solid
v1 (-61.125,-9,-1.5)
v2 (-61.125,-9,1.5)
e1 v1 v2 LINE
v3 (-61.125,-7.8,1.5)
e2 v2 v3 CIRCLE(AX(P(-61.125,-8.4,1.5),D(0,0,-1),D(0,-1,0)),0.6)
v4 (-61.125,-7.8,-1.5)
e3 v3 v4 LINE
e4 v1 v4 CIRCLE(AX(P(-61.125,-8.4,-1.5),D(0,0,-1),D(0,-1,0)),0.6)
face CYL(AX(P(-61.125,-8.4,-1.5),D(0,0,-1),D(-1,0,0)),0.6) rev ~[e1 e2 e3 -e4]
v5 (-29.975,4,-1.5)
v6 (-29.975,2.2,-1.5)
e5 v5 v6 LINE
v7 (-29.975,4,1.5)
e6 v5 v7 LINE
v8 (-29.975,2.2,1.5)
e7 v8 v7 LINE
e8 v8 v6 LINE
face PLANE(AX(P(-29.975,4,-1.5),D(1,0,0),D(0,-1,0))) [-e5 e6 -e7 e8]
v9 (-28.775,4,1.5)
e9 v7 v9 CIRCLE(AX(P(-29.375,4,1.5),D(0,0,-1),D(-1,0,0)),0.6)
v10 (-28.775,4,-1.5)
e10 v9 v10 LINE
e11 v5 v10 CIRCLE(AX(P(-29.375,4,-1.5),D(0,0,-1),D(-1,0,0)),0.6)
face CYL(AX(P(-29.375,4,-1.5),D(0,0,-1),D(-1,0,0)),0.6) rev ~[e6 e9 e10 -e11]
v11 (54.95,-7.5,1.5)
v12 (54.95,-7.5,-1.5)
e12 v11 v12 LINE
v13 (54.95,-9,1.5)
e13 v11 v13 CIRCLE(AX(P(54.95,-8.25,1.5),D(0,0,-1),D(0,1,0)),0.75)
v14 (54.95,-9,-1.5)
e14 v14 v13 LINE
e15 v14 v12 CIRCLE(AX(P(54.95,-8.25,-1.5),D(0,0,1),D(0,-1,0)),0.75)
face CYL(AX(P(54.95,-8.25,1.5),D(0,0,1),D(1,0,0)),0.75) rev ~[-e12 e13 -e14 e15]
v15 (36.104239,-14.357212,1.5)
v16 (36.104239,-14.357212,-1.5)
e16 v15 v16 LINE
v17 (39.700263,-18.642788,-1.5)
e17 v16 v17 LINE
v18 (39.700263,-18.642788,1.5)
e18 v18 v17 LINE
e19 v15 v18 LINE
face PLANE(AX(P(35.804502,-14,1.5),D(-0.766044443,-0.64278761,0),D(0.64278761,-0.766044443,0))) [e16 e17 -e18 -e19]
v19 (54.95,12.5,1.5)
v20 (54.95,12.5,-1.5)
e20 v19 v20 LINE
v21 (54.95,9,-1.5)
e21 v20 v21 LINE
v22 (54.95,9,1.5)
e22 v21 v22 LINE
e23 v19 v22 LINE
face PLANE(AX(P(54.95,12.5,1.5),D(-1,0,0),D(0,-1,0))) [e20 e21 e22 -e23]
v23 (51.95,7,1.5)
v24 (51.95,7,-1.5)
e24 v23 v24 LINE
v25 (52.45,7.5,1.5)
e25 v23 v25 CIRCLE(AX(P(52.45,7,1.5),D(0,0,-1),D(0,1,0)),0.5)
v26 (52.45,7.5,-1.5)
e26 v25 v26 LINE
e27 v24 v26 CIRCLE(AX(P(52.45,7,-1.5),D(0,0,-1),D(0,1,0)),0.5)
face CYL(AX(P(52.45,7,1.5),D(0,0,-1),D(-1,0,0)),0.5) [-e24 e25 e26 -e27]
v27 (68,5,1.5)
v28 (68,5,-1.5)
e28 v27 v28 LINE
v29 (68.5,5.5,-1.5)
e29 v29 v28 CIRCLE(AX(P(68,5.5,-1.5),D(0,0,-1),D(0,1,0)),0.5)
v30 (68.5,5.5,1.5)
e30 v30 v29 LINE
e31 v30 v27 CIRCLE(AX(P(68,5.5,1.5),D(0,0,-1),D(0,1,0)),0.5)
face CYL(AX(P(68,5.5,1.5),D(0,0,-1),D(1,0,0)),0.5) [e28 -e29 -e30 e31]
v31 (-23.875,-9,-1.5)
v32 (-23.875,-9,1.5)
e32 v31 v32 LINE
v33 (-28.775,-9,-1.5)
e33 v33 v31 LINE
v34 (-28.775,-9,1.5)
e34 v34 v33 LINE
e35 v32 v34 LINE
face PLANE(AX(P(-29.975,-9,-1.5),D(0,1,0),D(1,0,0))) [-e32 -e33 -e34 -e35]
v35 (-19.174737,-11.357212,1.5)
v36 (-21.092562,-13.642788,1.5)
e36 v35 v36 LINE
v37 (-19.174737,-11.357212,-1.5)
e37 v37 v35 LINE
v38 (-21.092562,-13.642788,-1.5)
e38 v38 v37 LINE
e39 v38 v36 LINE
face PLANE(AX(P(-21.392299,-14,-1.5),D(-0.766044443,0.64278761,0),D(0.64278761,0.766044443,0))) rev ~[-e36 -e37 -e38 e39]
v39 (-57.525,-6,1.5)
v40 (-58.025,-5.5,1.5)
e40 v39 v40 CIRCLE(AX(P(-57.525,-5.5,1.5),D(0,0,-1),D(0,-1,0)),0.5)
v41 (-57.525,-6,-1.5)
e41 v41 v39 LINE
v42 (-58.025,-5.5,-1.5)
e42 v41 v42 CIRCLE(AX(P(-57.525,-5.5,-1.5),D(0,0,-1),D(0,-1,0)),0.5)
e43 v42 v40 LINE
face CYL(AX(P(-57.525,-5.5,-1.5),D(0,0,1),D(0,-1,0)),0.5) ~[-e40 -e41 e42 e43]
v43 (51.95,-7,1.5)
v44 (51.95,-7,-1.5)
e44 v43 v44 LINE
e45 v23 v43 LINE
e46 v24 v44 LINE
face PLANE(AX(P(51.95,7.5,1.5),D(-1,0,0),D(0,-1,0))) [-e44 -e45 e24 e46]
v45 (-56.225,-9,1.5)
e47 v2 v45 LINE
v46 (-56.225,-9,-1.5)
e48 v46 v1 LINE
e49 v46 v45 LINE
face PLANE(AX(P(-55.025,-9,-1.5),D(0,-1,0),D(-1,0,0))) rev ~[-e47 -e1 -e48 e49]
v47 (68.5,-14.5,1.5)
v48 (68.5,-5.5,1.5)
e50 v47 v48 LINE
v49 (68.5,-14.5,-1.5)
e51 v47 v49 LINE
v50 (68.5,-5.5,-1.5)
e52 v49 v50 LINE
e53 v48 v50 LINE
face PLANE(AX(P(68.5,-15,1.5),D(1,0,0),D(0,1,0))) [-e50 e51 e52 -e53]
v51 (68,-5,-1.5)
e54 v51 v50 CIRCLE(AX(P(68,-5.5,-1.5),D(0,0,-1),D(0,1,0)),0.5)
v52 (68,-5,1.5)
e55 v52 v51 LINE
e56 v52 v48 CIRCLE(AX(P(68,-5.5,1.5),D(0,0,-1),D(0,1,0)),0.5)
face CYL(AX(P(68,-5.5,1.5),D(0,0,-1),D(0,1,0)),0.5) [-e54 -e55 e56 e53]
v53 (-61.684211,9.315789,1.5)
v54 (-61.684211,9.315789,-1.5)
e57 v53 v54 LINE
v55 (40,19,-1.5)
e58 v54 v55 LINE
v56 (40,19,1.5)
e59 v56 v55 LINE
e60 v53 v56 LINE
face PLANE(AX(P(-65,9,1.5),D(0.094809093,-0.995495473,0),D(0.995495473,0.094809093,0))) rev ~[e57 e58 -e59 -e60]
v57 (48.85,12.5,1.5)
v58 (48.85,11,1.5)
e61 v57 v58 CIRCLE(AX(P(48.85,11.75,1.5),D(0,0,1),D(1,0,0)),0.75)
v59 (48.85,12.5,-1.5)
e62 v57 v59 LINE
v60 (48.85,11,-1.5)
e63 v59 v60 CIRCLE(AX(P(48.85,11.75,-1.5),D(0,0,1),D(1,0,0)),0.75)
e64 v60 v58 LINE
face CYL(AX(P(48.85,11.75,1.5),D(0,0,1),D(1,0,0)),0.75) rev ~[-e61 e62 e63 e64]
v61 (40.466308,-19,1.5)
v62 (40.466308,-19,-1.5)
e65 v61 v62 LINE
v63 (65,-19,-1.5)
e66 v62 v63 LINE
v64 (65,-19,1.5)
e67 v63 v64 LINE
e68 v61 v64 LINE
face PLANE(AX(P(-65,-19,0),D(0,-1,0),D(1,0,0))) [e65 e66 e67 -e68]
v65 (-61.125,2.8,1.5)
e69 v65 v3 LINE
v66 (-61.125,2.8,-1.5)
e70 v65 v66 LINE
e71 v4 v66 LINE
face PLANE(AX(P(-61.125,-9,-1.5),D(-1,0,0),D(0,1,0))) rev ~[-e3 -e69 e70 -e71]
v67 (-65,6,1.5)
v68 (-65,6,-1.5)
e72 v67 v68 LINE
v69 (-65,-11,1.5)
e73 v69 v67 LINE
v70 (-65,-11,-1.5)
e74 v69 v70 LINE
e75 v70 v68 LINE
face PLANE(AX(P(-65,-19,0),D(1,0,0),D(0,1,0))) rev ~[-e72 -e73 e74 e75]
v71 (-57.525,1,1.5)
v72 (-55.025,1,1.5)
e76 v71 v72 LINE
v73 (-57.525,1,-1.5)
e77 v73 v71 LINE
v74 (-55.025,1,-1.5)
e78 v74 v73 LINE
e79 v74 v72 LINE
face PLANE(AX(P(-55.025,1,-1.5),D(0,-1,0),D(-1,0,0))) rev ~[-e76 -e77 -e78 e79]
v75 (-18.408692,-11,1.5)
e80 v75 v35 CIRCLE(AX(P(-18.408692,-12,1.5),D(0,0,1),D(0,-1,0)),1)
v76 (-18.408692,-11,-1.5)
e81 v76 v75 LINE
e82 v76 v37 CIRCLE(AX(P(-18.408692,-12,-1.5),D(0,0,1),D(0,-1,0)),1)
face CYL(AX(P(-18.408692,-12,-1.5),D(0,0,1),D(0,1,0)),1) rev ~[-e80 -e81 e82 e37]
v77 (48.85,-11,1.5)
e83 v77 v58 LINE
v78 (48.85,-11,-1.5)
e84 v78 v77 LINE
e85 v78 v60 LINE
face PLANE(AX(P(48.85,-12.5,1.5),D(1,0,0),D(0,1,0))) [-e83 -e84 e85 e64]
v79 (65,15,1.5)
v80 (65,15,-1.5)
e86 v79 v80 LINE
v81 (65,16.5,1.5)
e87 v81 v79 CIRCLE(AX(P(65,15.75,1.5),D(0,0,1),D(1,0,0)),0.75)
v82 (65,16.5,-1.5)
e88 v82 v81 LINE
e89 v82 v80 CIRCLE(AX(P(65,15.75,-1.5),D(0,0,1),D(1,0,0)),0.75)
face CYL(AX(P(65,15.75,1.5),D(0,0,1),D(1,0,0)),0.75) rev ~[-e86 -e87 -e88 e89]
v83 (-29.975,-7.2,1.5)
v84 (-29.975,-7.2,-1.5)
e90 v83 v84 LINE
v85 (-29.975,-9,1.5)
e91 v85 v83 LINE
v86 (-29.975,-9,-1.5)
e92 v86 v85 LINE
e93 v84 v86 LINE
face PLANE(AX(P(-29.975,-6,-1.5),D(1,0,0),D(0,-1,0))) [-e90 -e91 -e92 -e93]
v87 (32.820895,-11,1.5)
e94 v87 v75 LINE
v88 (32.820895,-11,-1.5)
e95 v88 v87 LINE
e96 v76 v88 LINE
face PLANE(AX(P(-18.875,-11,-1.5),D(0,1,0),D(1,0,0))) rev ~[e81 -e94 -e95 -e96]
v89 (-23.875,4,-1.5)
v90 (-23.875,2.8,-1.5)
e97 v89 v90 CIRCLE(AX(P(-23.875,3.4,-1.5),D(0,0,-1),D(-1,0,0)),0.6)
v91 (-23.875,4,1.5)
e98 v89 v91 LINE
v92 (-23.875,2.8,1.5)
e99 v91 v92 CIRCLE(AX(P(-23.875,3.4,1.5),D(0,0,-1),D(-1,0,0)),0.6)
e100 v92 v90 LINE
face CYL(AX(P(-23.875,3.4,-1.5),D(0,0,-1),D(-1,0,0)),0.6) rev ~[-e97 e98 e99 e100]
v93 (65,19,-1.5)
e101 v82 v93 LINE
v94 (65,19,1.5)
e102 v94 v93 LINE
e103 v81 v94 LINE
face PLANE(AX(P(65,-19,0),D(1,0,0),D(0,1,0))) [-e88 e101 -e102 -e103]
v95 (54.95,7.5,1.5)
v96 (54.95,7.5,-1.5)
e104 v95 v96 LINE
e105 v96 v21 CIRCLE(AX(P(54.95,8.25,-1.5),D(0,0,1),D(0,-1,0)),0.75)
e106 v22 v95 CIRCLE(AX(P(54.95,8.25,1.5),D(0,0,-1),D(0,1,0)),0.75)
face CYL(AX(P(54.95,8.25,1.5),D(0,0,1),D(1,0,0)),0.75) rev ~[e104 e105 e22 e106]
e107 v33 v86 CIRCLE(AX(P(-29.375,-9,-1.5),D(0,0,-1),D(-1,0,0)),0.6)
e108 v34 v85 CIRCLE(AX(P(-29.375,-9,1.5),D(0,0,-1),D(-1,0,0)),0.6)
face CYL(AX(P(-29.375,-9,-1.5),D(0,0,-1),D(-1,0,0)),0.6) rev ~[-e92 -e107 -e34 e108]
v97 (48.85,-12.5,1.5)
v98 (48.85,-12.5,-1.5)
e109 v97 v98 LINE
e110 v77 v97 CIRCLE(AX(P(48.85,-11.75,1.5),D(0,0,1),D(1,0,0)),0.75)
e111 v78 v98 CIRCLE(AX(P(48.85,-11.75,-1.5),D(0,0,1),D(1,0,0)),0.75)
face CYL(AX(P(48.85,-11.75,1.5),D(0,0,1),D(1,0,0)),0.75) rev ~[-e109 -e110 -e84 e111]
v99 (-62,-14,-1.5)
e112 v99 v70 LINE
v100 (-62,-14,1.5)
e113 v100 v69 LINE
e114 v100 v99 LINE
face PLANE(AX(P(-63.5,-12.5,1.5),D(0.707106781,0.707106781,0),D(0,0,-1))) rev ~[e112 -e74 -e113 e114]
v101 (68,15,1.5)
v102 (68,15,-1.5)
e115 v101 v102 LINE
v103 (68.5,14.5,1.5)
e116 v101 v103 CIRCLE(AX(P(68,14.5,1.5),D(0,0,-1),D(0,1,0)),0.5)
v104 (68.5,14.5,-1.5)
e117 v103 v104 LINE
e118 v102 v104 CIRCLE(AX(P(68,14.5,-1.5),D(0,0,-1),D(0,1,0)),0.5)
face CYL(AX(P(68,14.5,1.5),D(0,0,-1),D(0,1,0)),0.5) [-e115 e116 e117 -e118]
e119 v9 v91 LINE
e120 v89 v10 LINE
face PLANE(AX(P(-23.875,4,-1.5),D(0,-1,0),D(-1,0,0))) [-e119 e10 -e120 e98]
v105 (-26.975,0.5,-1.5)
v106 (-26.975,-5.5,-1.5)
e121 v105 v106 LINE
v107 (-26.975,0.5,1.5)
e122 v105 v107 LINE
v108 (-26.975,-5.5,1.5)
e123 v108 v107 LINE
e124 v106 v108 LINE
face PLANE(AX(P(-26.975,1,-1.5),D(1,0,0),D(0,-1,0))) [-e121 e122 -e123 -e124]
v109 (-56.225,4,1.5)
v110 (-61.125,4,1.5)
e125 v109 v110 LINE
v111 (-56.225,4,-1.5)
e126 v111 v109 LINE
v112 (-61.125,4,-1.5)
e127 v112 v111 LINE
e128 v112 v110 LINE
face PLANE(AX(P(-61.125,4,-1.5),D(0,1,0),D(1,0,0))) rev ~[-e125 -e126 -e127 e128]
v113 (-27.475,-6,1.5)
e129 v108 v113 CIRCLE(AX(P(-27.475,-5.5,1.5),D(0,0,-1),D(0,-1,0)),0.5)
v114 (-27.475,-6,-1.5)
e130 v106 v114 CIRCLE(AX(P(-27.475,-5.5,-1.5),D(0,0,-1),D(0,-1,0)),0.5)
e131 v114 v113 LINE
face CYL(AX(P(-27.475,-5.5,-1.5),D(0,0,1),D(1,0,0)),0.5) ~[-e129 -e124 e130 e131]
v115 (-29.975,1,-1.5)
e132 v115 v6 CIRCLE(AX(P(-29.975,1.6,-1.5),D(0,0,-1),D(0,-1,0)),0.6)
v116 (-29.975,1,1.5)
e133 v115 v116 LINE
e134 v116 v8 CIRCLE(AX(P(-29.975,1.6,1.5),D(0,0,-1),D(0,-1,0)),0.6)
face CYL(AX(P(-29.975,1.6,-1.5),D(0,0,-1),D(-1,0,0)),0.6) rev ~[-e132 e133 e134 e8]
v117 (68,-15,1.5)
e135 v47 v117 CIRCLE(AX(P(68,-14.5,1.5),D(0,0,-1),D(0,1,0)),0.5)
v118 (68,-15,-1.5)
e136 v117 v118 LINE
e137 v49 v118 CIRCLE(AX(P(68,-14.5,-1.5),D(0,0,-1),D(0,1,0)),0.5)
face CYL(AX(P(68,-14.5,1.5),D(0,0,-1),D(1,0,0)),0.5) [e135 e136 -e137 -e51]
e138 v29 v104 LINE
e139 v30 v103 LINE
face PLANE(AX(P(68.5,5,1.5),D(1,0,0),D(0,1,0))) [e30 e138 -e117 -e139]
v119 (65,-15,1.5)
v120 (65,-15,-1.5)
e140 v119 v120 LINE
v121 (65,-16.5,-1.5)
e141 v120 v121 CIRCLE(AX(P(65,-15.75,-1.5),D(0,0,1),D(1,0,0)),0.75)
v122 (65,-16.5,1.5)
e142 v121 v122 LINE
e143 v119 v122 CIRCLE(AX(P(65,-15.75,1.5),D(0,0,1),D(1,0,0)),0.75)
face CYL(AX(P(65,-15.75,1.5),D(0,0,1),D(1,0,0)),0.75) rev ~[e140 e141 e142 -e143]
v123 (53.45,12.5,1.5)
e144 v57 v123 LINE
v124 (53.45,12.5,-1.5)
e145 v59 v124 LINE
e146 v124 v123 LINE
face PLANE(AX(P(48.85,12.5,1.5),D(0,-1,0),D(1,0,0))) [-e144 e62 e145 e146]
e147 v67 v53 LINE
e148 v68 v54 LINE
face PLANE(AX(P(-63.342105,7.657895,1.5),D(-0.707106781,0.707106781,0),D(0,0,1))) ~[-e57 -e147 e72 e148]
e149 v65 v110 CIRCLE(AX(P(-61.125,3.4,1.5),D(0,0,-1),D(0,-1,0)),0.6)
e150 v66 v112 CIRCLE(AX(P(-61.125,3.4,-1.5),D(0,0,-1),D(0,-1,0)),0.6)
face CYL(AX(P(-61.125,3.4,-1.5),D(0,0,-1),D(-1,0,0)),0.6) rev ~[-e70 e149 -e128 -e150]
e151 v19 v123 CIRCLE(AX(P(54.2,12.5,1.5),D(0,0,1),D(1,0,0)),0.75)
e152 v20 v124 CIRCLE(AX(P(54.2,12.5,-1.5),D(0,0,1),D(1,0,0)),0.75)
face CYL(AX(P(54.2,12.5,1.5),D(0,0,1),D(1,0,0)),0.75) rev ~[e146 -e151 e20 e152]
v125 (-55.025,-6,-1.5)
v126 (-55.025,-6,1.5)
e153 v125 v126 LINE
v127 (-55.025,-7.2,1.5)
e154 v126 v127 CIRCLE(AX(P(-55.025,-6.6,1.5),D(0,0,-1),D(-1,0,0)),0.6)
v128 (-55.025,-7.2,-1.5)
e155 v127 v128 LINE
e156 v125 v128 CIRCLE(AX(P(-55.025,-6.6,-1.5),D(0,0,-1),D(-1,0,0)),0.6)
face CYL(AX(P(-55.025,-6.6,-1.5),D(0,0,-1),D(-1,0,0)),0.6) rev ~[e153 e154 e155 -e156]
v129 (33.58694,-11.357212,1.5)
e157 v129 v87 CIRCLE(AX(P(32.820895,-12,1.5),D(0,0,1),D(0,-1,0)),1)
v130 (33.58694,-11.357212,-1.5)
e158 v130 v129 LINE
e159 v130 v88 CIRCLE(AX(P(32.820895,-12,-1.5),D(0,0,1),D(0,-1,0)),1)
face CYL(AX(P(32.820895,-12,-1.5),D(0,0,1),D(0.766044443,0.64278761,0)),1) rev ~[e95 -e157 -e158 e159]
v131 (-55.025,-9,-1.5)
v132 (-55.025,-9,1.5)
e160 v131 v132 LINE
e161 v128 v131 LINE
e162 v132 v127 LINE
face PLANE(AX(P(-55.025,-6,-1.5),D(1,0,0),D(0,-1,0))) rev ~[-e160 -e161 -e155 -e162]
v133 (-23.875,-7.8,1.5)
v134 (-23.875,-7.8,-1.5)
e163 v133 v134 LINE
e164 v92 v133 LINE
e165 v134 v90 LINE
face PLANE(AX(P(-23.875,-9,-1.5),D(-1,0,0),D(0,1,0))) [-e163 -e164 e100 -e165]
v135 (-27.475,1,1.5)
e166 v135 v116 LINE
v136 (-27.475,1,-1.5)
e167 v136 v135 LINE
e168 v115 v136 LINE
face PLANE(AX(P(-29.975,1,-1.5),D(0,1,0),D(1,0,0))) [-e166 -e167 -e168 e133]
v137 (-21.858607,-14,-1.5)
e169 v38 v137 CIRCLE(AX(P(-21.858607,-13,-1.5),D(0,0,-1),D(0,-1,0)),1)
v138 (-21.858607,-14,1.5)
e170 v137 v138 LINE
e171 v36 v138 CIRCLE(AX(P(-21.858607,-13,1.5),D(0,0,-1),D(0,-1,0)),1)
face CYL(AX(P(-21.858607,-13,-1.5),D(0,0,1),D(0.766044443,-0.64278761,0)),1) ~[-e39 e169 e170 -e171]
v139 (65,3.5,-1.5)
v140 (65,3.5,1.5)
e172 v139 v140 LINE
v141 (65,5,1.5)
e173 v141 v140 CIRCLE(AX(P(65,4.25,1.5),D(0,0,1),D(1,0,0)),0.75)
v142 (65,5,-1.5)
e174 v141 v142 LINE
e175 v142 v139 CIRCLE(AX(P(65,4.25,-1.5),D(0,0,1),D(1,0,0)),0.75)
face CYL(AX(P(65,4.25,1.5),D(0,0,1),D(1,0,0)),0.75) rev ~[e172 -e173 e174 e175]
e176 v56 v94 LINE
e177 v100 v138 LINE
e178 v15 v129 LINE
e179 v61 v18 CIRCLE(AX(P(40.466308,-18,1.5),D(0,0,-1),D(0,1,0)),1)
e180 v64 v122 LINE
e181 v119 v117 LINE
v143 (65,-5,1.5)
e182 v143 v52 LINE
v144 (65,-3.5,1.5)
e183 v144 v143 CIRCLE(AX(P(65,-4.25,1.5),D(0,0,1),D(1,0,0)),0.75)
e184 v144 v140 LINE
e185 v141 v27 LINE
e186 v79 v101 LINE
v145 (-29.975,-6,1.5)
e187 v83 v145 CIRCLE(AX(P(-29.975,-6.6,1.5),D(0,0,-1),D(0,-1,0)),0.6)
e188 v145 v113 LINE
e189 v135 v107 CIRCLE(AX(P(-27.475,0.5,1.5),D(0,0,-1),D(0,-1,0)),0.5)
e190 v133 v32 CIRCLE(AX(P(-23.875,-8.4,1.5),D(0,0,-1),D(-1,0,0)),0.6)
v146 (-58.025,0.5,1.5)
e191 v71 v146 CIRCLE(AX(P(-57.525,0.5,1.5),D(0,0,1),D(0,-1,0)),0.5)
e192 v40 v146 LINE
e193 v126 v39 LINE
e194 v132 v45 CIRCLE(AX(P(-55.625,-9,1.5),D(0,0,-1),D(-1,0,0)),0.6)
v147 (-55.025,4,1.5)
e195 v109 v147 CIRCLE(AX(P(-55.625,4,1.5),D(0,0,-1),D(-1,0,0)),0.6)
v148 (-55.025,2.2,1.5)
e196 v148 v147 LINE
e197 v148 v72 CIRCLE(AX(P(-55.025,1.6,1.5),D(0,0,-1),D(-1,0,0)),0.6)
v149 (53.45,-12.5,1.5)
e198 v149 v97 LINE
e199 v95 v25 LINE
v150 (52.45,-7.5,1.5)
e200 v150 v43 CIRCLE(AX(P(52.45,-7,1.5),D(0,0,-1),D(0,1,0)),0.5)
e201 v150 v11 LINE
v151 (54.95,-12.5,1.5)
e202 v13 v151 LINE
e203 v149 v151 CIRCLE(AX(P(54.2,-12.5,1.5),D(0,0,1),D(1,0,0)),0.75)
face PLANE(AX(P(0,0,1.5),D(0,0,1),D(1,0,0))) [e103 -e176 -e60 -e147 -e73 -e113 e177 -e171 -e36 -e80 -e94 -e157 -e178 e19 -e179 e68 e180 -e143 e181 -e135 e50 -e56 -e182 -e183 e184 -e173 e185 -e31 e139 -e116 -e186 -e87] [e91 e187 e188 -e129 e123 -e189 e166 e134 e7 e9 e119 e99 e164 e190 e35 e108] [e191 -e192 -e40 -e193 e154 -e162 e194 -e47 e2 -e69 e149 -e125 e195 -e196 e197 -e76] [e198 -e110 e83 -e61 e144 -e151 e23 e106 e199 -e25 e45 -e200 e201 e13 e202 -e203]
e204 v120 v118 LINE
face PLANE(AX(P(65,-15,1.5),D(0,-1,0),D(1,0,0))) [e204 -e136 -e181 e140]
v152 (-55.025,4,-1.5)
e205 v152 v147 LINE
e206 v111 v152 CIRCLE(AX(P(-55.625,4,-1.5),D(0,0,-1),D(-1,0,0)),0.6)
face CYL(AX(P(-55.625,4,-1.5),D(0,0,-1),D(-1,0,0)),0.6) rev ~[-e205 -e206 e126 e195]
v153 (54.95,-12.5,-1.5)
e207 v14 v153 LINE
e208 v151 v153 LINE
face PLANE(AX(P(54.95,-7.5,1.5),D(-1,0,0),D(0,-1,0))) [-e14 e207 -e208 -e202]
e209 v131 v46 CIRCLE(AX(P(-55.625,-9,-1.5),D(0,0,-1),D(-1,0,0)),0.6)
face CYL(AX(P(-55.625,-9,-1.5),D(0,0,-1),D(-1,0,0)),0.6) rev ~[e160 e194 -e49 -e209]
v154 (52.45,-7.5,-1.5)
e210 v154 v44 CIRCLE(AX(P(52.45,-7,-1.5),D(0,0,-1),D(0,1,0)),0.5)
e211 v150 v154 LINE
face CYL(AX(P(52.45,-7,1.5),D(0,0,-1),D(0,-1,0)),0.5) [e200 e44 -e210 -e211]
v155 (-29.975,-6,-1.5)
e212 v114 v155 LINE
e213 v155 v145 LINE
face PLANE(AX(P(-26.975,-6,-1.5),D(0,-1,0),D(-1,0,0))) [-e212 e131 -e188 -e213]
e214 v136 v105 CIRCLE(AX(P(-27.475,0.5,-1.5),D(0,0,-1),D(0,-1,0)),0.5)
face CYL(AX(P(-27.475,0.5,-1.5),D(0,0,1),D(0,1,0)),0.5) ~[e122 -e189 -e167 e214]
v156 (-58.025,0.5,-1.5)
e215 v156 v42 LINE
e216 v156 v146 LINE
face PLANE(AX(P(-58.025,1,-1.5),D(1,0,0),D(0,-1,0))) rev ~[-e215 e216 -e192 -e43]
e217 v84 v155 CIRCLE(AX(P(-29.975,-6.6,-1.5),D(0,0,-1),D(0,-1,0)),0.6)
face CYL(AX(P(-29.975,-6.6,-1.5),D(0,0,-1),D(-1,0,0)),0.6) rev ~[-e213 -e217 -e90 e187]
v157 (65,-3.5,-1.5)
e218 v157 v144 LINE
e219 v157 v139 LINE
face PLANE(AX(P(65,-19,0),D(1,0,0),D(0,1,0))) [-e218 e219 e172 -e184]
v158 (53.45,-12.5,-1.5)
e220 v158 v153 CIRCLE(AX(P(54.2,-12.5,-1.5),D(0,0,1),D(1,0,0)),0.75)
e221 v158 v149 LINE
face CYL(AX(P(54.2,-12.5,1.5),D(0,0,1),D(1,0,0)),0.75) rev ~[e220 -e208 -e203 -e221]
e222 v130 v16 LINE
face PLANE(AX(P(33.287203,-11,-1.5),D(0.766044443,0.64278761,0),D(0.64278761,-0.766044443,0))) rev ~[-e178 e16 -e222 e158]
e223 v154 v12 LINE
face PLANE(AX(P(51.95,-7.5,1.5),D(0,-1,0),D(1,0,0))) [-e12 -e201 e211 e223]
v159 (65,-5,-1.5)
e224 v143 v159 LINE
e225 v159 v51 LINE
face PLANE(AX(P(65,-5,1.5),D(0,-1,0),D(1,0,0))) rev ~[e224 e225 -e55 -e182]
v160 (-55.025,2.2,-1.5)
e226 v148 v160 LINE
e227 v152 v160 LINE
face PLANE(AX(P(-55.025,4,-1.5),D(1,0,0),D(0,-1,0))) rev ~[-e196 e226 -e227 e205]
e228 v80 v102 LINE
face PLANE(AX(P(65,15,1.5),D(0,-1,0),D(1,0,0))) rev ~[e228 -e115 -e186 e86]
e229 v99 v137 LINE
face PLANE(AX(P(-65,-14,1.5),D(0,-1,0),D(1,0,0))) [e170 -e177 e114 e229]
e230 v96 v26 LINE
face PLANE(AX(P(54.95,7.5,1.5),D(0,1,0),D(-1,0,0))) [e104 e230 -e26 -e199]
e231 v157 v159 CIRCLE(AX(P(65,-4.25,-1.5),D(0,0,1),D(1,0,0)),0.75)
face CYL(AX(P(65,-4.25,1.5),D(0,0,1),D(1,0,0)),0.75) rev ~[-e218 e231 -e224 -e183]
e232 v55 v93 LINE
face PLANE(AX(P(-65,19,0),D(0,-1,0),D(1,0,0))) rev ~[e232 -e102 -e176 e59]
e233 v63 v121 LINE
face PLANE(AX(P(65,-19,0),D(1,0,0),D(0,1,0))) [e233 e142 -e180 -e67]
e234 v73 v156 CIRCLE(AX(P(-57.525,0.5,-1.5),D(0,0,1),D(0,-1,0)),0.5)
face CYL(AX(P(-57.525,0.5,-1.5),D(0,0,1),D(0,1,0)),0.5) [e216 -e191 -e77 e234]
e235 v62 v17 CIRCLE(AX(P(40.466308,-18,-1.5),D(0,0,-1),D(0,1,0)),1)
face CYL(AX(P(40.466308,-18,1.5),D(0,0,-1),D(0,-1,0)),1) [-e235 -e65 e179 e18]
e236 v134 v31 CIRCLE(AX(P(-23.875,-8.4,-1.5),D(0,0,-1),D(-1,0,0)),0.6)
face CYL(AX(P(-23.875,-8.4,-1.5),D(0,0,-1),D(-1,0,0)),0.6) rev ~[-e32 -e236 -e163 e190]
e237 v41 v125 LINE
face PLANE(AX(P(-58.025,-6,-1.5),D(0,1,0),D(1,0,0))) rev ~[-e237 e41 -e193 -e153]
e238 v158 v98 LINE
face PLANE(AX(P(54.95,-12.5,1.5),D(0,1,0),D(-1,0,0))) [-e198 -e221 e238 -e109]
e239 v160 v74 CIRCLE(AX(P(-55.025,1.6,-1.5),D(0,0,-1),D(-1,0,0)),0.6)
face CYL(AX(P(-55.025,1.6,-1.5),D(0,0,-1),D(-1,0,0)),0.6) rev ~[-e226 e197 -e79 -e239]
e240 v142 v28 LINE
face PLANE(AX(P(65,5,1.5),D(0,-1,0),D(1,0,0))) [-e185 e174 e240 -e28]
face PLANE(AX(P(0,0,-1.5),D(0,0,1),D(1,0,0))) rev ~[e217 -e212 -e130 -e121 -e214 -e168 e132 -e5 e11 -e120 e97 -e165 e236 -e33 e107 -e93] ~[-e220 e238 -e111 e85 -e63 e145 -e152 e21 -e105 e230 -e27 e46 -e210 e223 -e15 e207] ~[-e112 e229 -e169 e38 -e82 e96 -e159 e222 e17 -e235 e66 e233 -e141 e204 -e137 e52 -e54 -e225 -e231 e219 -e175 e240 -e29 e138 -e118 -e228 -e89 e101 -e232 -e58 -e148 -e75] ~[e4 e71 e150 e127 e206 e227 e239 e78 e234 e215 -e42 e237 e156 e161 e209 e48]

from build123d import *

# Parameters (mm, degrees)
SKETCH_1_W             = 130
SKETCH_1_H             = 38
EXTRUDE_1_DEPTH        = 1.5
SKETCH_2_W             = 3.5
SKETCH_2_H             = 10
EXTRUDE_2_DEPTH        = 3
CUT_EXTRUDE_2_DEPTH    = 4
SKETCH_3_R             = 0.75
CUT_EXTRUDE_1_DEPTH    = 4
FILLET_1_R             = 0.5
CUT_EXTRUDE_3_DEPTH    = 4
FILLET_2_R             = 1
CUT_EXTRUDE_4_DEPTH    = 4
CUT_EXTRUDE_6_DEPTH    = 4
SKETCH_9_R             = 0.6
CUT_EXTRUDE_7_DEPTH    = 4
FILLET_3_R             = 0.5
CUT_EXTRUDE_8_DEPTH    = 4
FILLET_4_R             = 1
CHAMFER_1_SIZE         = 3
CHAMFER_1_EDGE_2_SIZE2 = 3.330793123
CHAMFER_1_EDGE_2_SIZE  = 3


with BuildPart() as part:
    # 草图1 → 凸台-拉伸1 (new body, symmetric)
    with BuildSketch(Plane.XY):
        Rectangle(SKETCH_1_W, SKETCH_1_H)
    extrude(amount=EXTRUDE_1_DEPTH, both=True)

    # 草图2 → 凸台-拉伸2 (add)
    with BuildSketch(Plane.XY.offset(1.5)):
        with Locations((66.75, 10)):
            Rectangle(SKETCH_2_W, SKETCH_2_H)
        with Locations((66.75, -10)):
            Rectangle(SKETCH_2_W, SKETCH_2_H)
    extrude(amount=-EXTRUDE_2_DEPTH)

    # 草图4 → 切除-拉伸2 (cut, through all)
    with BuildSketch(Plane.XY.offset(1.5)):
        Polygon((48.85, 12.5), (54.95, 12.5), (54.95, 7.5), (51.95, 7.5), (51.95, -7.5), (54.95, -7.5), (54.95, -12.5), (48.85, -12.5), align=None)
    extrude(amount=-CUT_EXTRUDE_2_DEPTH, mode=Mode.SUBTRACT)

    # 草图3 → 切除-拉伸1 (cut, through all)
    with BuildSketch(Plane.XY.offset(1.5)):
        with Locations((65, 15.75)):
            Circle(SKETCH_3_R)
        with Locations((65, 4.25)):
            Circle(SKETCH_3_R)
        with Locations((65, -4.25)):
            Circle(SKETCH_3_R)
        with Locations((65, -15.75)):
            Circle(SKETCH_3_R)
        with Locations((54.95, 8.25)):
            Circle(SKETCH_3_R)
        with Locations((54.2, 12.5)):
            Circle(SKETCH_3_R)
        with Locations((48.85, 11.75)):
            Circle(SKETCH_3_R)
        with Locations((48.85, -11.75)):
            Circle(SKETCH_3_R)
        with Locations((54.95, -8.25)):
            Circle(SKETCH_3_R)
        with Locations((54.2, -12.5)):
            Circle(SKETCH_3_R)
    extrude(amount=-CUT_EXTRUDE_1_DEPTH, mode=Mode.SUBTRACT)

    # 圆角1
    fillet_1_edges = [part.edges().sort_by_distance(p)[0] for p in [
        (68.5, 15, 0),
        (68.5, 5, 0),
        (68.5, -5, 0),
        (68.5, -15, 0),
        (51.95, 7.5, 0),
        (51.95, -7.5, 0),
    ]]
    fillet(fillet_1_edges, radius=FILLET_1_R)

    # 草图5 → 切除-拉伸3 (cut, through all)
    with BuildSketch(Plane.XY.offset(1.5)):
        Polygon((-65, -19), (-65, -14), (35.804501844, -14), (40, -19), align=None)
    extrude(amount=-CUT_EXTRUDE_3_DEPTH, mode=Mode.SUBTRACT)

    # 圆角2
    fillet_2_edges = [part.edges().sort_by_distance(p)[0] for p in [
        (40, -19, 0),
        (35.804501844, -14, 0),
    ]]
    fillet(fillet_2_edges, radius=FILLET_2_R)

    # 草图6 → 切除-拉伸4 (cut, through all)
    with BuildSketch(Plane.XY.offset(1.5)):
        Polygon((-65, 9), (40, 19), (-65, 19), align=None)
    extrude(amount=-CUT_EXTRUDE_4_DEPTH, mode=Mode.SUBTRACT)

    # 草图8 → 切除-拉伸6 (cut, through all)
    with BuildSketch(Plane(origin=(0, 0, -1.5), x_dir=(-1, 0, 0), z_dir=(0, 0, -1))):
        Polygon((29.975, -6), (29.975, -9), (23.875, -9), (23.875, 4), (29.975, 4), (29.975, 1), (26.975, 1), (26.975, -6), align=None)
        Polygon((58.025, 1), (58.025, -6), (55.025, -6), (55.025, -9), (61.125, -9), (61.125, 4), (55.025, 4), (55.025, 1), align=None)
    extrude(amount=-CUT_EXTRUDE_6_DEPTH, mode=Mode.SUBTRACT)

    # 草图9 → 切除-拉伸7 (cut, through all)
    with BuildSketch(Plane(origin=(0, 0, -1.5), x_dir=(-1, 0, 0), z_dir=(0, 0, -1))):
        with Locations((29.975, 1.6)):
            Circle(SKETCH_9_R)
        with Locations((29.975, -6.6)):
            Circle(SKETCH_9_R)
        with Locations((29.375, -9)):
            Circle(SKETCH_9_R)
        with Locations((29.375, 4)):
            Circle(SKETCH_9_R)
        with Locations((23.875, 3.4)):
            Circle(SKETCH_9_R)
        with Locations((23.875, -8.4)):
            Circle(SKETCH_9_R)
        with Locations((55.025, -6.6)):
            Circle(SKETCH_9_R)
        with Locations((55.625, -9)):
            Circle(SKETCH_9_R)
        with Locations((55.025, 1.6)):
            Circle(SKETCH_9_R)
        with Locations((55.625, 4)):
            Circle(SKETCH_9_R)
        with Locations((61.125, 3.4)):
            Circle(SKETCH_9_R)
        with Locations((61.125, -8.4)):
            Circle(SKETCH_9_R)
    extrude(amount=-CUT_EXTRUDE_7_DEPTH, mode=Mode.SUBTRACT)

    # 圆角3
    fillet_3_edges = [part.edges().sort_by_distance(p)[0] for p in [
        (-26.975, -6, 0),
        (-26.975, 1, 0),
        (-58.025, 1, 0),
        (-58.025, -6, 0),
    ]]
    fillet(fillet_3_edges, radius=FILLET_3_R)

    # 草图11 → 切除-拉伸8 (cut, through all)
    with BuildSketch(Plane(origin=(0, 0, -1.5), x_dir=(-1, 0, 0), z_dir=(0, 0, -1))):
        with BuildLine():
            Line((21.392298894, -14), (18.875, -11))
            Line((18.875, -11), (-33.287202951, -11))
            Line((-33.287202951, -11), (-36.104238629, -14.35721239))
            ThreePointArc((-36.104238629, -14.35721239), (-35.760812448, -14.093692213), (-35.338194186, -14))
            Line((-35.338194186, -14), (21.392298894, -14))
        make_face()
    extrude(amount=-CUT_EXTRUDE_8_DEPTH, mode=Mode.SUBTRACT)

    # 圆角4
    fillet_4_edges = [part.edges().sort_by_distance(p)[0] for p in [
        (-21.392298894, -14, 0),
        (33.287202951, -11, 0),
        (-18.875, -11, 0),
    ]]
    fillet(fillet_4_edges, radius=FILLET_4_R)

    # 倒角1
    chamfer_1_edges = [part.edges().sort_by_distance(p)[0] for p in [
        (-65, -14, 0),
    ]]
    chamfer(chamfer_1_edges, length=CHAMFER_1_SIZE)

    # 倒角1 edge 2
    chamfer_1_edge_2_edges = [part.edges().sort_by_distance(p)[0] for p in [
        (-65, 9, 0),
    ]]
    chamfer(chamfer_1_edge_2_edges, length=CHAMFER_1_EDGE_2_SIZE, length2=CHAMFER_1_EDGE_2_SIZE2)


solid = part.part
